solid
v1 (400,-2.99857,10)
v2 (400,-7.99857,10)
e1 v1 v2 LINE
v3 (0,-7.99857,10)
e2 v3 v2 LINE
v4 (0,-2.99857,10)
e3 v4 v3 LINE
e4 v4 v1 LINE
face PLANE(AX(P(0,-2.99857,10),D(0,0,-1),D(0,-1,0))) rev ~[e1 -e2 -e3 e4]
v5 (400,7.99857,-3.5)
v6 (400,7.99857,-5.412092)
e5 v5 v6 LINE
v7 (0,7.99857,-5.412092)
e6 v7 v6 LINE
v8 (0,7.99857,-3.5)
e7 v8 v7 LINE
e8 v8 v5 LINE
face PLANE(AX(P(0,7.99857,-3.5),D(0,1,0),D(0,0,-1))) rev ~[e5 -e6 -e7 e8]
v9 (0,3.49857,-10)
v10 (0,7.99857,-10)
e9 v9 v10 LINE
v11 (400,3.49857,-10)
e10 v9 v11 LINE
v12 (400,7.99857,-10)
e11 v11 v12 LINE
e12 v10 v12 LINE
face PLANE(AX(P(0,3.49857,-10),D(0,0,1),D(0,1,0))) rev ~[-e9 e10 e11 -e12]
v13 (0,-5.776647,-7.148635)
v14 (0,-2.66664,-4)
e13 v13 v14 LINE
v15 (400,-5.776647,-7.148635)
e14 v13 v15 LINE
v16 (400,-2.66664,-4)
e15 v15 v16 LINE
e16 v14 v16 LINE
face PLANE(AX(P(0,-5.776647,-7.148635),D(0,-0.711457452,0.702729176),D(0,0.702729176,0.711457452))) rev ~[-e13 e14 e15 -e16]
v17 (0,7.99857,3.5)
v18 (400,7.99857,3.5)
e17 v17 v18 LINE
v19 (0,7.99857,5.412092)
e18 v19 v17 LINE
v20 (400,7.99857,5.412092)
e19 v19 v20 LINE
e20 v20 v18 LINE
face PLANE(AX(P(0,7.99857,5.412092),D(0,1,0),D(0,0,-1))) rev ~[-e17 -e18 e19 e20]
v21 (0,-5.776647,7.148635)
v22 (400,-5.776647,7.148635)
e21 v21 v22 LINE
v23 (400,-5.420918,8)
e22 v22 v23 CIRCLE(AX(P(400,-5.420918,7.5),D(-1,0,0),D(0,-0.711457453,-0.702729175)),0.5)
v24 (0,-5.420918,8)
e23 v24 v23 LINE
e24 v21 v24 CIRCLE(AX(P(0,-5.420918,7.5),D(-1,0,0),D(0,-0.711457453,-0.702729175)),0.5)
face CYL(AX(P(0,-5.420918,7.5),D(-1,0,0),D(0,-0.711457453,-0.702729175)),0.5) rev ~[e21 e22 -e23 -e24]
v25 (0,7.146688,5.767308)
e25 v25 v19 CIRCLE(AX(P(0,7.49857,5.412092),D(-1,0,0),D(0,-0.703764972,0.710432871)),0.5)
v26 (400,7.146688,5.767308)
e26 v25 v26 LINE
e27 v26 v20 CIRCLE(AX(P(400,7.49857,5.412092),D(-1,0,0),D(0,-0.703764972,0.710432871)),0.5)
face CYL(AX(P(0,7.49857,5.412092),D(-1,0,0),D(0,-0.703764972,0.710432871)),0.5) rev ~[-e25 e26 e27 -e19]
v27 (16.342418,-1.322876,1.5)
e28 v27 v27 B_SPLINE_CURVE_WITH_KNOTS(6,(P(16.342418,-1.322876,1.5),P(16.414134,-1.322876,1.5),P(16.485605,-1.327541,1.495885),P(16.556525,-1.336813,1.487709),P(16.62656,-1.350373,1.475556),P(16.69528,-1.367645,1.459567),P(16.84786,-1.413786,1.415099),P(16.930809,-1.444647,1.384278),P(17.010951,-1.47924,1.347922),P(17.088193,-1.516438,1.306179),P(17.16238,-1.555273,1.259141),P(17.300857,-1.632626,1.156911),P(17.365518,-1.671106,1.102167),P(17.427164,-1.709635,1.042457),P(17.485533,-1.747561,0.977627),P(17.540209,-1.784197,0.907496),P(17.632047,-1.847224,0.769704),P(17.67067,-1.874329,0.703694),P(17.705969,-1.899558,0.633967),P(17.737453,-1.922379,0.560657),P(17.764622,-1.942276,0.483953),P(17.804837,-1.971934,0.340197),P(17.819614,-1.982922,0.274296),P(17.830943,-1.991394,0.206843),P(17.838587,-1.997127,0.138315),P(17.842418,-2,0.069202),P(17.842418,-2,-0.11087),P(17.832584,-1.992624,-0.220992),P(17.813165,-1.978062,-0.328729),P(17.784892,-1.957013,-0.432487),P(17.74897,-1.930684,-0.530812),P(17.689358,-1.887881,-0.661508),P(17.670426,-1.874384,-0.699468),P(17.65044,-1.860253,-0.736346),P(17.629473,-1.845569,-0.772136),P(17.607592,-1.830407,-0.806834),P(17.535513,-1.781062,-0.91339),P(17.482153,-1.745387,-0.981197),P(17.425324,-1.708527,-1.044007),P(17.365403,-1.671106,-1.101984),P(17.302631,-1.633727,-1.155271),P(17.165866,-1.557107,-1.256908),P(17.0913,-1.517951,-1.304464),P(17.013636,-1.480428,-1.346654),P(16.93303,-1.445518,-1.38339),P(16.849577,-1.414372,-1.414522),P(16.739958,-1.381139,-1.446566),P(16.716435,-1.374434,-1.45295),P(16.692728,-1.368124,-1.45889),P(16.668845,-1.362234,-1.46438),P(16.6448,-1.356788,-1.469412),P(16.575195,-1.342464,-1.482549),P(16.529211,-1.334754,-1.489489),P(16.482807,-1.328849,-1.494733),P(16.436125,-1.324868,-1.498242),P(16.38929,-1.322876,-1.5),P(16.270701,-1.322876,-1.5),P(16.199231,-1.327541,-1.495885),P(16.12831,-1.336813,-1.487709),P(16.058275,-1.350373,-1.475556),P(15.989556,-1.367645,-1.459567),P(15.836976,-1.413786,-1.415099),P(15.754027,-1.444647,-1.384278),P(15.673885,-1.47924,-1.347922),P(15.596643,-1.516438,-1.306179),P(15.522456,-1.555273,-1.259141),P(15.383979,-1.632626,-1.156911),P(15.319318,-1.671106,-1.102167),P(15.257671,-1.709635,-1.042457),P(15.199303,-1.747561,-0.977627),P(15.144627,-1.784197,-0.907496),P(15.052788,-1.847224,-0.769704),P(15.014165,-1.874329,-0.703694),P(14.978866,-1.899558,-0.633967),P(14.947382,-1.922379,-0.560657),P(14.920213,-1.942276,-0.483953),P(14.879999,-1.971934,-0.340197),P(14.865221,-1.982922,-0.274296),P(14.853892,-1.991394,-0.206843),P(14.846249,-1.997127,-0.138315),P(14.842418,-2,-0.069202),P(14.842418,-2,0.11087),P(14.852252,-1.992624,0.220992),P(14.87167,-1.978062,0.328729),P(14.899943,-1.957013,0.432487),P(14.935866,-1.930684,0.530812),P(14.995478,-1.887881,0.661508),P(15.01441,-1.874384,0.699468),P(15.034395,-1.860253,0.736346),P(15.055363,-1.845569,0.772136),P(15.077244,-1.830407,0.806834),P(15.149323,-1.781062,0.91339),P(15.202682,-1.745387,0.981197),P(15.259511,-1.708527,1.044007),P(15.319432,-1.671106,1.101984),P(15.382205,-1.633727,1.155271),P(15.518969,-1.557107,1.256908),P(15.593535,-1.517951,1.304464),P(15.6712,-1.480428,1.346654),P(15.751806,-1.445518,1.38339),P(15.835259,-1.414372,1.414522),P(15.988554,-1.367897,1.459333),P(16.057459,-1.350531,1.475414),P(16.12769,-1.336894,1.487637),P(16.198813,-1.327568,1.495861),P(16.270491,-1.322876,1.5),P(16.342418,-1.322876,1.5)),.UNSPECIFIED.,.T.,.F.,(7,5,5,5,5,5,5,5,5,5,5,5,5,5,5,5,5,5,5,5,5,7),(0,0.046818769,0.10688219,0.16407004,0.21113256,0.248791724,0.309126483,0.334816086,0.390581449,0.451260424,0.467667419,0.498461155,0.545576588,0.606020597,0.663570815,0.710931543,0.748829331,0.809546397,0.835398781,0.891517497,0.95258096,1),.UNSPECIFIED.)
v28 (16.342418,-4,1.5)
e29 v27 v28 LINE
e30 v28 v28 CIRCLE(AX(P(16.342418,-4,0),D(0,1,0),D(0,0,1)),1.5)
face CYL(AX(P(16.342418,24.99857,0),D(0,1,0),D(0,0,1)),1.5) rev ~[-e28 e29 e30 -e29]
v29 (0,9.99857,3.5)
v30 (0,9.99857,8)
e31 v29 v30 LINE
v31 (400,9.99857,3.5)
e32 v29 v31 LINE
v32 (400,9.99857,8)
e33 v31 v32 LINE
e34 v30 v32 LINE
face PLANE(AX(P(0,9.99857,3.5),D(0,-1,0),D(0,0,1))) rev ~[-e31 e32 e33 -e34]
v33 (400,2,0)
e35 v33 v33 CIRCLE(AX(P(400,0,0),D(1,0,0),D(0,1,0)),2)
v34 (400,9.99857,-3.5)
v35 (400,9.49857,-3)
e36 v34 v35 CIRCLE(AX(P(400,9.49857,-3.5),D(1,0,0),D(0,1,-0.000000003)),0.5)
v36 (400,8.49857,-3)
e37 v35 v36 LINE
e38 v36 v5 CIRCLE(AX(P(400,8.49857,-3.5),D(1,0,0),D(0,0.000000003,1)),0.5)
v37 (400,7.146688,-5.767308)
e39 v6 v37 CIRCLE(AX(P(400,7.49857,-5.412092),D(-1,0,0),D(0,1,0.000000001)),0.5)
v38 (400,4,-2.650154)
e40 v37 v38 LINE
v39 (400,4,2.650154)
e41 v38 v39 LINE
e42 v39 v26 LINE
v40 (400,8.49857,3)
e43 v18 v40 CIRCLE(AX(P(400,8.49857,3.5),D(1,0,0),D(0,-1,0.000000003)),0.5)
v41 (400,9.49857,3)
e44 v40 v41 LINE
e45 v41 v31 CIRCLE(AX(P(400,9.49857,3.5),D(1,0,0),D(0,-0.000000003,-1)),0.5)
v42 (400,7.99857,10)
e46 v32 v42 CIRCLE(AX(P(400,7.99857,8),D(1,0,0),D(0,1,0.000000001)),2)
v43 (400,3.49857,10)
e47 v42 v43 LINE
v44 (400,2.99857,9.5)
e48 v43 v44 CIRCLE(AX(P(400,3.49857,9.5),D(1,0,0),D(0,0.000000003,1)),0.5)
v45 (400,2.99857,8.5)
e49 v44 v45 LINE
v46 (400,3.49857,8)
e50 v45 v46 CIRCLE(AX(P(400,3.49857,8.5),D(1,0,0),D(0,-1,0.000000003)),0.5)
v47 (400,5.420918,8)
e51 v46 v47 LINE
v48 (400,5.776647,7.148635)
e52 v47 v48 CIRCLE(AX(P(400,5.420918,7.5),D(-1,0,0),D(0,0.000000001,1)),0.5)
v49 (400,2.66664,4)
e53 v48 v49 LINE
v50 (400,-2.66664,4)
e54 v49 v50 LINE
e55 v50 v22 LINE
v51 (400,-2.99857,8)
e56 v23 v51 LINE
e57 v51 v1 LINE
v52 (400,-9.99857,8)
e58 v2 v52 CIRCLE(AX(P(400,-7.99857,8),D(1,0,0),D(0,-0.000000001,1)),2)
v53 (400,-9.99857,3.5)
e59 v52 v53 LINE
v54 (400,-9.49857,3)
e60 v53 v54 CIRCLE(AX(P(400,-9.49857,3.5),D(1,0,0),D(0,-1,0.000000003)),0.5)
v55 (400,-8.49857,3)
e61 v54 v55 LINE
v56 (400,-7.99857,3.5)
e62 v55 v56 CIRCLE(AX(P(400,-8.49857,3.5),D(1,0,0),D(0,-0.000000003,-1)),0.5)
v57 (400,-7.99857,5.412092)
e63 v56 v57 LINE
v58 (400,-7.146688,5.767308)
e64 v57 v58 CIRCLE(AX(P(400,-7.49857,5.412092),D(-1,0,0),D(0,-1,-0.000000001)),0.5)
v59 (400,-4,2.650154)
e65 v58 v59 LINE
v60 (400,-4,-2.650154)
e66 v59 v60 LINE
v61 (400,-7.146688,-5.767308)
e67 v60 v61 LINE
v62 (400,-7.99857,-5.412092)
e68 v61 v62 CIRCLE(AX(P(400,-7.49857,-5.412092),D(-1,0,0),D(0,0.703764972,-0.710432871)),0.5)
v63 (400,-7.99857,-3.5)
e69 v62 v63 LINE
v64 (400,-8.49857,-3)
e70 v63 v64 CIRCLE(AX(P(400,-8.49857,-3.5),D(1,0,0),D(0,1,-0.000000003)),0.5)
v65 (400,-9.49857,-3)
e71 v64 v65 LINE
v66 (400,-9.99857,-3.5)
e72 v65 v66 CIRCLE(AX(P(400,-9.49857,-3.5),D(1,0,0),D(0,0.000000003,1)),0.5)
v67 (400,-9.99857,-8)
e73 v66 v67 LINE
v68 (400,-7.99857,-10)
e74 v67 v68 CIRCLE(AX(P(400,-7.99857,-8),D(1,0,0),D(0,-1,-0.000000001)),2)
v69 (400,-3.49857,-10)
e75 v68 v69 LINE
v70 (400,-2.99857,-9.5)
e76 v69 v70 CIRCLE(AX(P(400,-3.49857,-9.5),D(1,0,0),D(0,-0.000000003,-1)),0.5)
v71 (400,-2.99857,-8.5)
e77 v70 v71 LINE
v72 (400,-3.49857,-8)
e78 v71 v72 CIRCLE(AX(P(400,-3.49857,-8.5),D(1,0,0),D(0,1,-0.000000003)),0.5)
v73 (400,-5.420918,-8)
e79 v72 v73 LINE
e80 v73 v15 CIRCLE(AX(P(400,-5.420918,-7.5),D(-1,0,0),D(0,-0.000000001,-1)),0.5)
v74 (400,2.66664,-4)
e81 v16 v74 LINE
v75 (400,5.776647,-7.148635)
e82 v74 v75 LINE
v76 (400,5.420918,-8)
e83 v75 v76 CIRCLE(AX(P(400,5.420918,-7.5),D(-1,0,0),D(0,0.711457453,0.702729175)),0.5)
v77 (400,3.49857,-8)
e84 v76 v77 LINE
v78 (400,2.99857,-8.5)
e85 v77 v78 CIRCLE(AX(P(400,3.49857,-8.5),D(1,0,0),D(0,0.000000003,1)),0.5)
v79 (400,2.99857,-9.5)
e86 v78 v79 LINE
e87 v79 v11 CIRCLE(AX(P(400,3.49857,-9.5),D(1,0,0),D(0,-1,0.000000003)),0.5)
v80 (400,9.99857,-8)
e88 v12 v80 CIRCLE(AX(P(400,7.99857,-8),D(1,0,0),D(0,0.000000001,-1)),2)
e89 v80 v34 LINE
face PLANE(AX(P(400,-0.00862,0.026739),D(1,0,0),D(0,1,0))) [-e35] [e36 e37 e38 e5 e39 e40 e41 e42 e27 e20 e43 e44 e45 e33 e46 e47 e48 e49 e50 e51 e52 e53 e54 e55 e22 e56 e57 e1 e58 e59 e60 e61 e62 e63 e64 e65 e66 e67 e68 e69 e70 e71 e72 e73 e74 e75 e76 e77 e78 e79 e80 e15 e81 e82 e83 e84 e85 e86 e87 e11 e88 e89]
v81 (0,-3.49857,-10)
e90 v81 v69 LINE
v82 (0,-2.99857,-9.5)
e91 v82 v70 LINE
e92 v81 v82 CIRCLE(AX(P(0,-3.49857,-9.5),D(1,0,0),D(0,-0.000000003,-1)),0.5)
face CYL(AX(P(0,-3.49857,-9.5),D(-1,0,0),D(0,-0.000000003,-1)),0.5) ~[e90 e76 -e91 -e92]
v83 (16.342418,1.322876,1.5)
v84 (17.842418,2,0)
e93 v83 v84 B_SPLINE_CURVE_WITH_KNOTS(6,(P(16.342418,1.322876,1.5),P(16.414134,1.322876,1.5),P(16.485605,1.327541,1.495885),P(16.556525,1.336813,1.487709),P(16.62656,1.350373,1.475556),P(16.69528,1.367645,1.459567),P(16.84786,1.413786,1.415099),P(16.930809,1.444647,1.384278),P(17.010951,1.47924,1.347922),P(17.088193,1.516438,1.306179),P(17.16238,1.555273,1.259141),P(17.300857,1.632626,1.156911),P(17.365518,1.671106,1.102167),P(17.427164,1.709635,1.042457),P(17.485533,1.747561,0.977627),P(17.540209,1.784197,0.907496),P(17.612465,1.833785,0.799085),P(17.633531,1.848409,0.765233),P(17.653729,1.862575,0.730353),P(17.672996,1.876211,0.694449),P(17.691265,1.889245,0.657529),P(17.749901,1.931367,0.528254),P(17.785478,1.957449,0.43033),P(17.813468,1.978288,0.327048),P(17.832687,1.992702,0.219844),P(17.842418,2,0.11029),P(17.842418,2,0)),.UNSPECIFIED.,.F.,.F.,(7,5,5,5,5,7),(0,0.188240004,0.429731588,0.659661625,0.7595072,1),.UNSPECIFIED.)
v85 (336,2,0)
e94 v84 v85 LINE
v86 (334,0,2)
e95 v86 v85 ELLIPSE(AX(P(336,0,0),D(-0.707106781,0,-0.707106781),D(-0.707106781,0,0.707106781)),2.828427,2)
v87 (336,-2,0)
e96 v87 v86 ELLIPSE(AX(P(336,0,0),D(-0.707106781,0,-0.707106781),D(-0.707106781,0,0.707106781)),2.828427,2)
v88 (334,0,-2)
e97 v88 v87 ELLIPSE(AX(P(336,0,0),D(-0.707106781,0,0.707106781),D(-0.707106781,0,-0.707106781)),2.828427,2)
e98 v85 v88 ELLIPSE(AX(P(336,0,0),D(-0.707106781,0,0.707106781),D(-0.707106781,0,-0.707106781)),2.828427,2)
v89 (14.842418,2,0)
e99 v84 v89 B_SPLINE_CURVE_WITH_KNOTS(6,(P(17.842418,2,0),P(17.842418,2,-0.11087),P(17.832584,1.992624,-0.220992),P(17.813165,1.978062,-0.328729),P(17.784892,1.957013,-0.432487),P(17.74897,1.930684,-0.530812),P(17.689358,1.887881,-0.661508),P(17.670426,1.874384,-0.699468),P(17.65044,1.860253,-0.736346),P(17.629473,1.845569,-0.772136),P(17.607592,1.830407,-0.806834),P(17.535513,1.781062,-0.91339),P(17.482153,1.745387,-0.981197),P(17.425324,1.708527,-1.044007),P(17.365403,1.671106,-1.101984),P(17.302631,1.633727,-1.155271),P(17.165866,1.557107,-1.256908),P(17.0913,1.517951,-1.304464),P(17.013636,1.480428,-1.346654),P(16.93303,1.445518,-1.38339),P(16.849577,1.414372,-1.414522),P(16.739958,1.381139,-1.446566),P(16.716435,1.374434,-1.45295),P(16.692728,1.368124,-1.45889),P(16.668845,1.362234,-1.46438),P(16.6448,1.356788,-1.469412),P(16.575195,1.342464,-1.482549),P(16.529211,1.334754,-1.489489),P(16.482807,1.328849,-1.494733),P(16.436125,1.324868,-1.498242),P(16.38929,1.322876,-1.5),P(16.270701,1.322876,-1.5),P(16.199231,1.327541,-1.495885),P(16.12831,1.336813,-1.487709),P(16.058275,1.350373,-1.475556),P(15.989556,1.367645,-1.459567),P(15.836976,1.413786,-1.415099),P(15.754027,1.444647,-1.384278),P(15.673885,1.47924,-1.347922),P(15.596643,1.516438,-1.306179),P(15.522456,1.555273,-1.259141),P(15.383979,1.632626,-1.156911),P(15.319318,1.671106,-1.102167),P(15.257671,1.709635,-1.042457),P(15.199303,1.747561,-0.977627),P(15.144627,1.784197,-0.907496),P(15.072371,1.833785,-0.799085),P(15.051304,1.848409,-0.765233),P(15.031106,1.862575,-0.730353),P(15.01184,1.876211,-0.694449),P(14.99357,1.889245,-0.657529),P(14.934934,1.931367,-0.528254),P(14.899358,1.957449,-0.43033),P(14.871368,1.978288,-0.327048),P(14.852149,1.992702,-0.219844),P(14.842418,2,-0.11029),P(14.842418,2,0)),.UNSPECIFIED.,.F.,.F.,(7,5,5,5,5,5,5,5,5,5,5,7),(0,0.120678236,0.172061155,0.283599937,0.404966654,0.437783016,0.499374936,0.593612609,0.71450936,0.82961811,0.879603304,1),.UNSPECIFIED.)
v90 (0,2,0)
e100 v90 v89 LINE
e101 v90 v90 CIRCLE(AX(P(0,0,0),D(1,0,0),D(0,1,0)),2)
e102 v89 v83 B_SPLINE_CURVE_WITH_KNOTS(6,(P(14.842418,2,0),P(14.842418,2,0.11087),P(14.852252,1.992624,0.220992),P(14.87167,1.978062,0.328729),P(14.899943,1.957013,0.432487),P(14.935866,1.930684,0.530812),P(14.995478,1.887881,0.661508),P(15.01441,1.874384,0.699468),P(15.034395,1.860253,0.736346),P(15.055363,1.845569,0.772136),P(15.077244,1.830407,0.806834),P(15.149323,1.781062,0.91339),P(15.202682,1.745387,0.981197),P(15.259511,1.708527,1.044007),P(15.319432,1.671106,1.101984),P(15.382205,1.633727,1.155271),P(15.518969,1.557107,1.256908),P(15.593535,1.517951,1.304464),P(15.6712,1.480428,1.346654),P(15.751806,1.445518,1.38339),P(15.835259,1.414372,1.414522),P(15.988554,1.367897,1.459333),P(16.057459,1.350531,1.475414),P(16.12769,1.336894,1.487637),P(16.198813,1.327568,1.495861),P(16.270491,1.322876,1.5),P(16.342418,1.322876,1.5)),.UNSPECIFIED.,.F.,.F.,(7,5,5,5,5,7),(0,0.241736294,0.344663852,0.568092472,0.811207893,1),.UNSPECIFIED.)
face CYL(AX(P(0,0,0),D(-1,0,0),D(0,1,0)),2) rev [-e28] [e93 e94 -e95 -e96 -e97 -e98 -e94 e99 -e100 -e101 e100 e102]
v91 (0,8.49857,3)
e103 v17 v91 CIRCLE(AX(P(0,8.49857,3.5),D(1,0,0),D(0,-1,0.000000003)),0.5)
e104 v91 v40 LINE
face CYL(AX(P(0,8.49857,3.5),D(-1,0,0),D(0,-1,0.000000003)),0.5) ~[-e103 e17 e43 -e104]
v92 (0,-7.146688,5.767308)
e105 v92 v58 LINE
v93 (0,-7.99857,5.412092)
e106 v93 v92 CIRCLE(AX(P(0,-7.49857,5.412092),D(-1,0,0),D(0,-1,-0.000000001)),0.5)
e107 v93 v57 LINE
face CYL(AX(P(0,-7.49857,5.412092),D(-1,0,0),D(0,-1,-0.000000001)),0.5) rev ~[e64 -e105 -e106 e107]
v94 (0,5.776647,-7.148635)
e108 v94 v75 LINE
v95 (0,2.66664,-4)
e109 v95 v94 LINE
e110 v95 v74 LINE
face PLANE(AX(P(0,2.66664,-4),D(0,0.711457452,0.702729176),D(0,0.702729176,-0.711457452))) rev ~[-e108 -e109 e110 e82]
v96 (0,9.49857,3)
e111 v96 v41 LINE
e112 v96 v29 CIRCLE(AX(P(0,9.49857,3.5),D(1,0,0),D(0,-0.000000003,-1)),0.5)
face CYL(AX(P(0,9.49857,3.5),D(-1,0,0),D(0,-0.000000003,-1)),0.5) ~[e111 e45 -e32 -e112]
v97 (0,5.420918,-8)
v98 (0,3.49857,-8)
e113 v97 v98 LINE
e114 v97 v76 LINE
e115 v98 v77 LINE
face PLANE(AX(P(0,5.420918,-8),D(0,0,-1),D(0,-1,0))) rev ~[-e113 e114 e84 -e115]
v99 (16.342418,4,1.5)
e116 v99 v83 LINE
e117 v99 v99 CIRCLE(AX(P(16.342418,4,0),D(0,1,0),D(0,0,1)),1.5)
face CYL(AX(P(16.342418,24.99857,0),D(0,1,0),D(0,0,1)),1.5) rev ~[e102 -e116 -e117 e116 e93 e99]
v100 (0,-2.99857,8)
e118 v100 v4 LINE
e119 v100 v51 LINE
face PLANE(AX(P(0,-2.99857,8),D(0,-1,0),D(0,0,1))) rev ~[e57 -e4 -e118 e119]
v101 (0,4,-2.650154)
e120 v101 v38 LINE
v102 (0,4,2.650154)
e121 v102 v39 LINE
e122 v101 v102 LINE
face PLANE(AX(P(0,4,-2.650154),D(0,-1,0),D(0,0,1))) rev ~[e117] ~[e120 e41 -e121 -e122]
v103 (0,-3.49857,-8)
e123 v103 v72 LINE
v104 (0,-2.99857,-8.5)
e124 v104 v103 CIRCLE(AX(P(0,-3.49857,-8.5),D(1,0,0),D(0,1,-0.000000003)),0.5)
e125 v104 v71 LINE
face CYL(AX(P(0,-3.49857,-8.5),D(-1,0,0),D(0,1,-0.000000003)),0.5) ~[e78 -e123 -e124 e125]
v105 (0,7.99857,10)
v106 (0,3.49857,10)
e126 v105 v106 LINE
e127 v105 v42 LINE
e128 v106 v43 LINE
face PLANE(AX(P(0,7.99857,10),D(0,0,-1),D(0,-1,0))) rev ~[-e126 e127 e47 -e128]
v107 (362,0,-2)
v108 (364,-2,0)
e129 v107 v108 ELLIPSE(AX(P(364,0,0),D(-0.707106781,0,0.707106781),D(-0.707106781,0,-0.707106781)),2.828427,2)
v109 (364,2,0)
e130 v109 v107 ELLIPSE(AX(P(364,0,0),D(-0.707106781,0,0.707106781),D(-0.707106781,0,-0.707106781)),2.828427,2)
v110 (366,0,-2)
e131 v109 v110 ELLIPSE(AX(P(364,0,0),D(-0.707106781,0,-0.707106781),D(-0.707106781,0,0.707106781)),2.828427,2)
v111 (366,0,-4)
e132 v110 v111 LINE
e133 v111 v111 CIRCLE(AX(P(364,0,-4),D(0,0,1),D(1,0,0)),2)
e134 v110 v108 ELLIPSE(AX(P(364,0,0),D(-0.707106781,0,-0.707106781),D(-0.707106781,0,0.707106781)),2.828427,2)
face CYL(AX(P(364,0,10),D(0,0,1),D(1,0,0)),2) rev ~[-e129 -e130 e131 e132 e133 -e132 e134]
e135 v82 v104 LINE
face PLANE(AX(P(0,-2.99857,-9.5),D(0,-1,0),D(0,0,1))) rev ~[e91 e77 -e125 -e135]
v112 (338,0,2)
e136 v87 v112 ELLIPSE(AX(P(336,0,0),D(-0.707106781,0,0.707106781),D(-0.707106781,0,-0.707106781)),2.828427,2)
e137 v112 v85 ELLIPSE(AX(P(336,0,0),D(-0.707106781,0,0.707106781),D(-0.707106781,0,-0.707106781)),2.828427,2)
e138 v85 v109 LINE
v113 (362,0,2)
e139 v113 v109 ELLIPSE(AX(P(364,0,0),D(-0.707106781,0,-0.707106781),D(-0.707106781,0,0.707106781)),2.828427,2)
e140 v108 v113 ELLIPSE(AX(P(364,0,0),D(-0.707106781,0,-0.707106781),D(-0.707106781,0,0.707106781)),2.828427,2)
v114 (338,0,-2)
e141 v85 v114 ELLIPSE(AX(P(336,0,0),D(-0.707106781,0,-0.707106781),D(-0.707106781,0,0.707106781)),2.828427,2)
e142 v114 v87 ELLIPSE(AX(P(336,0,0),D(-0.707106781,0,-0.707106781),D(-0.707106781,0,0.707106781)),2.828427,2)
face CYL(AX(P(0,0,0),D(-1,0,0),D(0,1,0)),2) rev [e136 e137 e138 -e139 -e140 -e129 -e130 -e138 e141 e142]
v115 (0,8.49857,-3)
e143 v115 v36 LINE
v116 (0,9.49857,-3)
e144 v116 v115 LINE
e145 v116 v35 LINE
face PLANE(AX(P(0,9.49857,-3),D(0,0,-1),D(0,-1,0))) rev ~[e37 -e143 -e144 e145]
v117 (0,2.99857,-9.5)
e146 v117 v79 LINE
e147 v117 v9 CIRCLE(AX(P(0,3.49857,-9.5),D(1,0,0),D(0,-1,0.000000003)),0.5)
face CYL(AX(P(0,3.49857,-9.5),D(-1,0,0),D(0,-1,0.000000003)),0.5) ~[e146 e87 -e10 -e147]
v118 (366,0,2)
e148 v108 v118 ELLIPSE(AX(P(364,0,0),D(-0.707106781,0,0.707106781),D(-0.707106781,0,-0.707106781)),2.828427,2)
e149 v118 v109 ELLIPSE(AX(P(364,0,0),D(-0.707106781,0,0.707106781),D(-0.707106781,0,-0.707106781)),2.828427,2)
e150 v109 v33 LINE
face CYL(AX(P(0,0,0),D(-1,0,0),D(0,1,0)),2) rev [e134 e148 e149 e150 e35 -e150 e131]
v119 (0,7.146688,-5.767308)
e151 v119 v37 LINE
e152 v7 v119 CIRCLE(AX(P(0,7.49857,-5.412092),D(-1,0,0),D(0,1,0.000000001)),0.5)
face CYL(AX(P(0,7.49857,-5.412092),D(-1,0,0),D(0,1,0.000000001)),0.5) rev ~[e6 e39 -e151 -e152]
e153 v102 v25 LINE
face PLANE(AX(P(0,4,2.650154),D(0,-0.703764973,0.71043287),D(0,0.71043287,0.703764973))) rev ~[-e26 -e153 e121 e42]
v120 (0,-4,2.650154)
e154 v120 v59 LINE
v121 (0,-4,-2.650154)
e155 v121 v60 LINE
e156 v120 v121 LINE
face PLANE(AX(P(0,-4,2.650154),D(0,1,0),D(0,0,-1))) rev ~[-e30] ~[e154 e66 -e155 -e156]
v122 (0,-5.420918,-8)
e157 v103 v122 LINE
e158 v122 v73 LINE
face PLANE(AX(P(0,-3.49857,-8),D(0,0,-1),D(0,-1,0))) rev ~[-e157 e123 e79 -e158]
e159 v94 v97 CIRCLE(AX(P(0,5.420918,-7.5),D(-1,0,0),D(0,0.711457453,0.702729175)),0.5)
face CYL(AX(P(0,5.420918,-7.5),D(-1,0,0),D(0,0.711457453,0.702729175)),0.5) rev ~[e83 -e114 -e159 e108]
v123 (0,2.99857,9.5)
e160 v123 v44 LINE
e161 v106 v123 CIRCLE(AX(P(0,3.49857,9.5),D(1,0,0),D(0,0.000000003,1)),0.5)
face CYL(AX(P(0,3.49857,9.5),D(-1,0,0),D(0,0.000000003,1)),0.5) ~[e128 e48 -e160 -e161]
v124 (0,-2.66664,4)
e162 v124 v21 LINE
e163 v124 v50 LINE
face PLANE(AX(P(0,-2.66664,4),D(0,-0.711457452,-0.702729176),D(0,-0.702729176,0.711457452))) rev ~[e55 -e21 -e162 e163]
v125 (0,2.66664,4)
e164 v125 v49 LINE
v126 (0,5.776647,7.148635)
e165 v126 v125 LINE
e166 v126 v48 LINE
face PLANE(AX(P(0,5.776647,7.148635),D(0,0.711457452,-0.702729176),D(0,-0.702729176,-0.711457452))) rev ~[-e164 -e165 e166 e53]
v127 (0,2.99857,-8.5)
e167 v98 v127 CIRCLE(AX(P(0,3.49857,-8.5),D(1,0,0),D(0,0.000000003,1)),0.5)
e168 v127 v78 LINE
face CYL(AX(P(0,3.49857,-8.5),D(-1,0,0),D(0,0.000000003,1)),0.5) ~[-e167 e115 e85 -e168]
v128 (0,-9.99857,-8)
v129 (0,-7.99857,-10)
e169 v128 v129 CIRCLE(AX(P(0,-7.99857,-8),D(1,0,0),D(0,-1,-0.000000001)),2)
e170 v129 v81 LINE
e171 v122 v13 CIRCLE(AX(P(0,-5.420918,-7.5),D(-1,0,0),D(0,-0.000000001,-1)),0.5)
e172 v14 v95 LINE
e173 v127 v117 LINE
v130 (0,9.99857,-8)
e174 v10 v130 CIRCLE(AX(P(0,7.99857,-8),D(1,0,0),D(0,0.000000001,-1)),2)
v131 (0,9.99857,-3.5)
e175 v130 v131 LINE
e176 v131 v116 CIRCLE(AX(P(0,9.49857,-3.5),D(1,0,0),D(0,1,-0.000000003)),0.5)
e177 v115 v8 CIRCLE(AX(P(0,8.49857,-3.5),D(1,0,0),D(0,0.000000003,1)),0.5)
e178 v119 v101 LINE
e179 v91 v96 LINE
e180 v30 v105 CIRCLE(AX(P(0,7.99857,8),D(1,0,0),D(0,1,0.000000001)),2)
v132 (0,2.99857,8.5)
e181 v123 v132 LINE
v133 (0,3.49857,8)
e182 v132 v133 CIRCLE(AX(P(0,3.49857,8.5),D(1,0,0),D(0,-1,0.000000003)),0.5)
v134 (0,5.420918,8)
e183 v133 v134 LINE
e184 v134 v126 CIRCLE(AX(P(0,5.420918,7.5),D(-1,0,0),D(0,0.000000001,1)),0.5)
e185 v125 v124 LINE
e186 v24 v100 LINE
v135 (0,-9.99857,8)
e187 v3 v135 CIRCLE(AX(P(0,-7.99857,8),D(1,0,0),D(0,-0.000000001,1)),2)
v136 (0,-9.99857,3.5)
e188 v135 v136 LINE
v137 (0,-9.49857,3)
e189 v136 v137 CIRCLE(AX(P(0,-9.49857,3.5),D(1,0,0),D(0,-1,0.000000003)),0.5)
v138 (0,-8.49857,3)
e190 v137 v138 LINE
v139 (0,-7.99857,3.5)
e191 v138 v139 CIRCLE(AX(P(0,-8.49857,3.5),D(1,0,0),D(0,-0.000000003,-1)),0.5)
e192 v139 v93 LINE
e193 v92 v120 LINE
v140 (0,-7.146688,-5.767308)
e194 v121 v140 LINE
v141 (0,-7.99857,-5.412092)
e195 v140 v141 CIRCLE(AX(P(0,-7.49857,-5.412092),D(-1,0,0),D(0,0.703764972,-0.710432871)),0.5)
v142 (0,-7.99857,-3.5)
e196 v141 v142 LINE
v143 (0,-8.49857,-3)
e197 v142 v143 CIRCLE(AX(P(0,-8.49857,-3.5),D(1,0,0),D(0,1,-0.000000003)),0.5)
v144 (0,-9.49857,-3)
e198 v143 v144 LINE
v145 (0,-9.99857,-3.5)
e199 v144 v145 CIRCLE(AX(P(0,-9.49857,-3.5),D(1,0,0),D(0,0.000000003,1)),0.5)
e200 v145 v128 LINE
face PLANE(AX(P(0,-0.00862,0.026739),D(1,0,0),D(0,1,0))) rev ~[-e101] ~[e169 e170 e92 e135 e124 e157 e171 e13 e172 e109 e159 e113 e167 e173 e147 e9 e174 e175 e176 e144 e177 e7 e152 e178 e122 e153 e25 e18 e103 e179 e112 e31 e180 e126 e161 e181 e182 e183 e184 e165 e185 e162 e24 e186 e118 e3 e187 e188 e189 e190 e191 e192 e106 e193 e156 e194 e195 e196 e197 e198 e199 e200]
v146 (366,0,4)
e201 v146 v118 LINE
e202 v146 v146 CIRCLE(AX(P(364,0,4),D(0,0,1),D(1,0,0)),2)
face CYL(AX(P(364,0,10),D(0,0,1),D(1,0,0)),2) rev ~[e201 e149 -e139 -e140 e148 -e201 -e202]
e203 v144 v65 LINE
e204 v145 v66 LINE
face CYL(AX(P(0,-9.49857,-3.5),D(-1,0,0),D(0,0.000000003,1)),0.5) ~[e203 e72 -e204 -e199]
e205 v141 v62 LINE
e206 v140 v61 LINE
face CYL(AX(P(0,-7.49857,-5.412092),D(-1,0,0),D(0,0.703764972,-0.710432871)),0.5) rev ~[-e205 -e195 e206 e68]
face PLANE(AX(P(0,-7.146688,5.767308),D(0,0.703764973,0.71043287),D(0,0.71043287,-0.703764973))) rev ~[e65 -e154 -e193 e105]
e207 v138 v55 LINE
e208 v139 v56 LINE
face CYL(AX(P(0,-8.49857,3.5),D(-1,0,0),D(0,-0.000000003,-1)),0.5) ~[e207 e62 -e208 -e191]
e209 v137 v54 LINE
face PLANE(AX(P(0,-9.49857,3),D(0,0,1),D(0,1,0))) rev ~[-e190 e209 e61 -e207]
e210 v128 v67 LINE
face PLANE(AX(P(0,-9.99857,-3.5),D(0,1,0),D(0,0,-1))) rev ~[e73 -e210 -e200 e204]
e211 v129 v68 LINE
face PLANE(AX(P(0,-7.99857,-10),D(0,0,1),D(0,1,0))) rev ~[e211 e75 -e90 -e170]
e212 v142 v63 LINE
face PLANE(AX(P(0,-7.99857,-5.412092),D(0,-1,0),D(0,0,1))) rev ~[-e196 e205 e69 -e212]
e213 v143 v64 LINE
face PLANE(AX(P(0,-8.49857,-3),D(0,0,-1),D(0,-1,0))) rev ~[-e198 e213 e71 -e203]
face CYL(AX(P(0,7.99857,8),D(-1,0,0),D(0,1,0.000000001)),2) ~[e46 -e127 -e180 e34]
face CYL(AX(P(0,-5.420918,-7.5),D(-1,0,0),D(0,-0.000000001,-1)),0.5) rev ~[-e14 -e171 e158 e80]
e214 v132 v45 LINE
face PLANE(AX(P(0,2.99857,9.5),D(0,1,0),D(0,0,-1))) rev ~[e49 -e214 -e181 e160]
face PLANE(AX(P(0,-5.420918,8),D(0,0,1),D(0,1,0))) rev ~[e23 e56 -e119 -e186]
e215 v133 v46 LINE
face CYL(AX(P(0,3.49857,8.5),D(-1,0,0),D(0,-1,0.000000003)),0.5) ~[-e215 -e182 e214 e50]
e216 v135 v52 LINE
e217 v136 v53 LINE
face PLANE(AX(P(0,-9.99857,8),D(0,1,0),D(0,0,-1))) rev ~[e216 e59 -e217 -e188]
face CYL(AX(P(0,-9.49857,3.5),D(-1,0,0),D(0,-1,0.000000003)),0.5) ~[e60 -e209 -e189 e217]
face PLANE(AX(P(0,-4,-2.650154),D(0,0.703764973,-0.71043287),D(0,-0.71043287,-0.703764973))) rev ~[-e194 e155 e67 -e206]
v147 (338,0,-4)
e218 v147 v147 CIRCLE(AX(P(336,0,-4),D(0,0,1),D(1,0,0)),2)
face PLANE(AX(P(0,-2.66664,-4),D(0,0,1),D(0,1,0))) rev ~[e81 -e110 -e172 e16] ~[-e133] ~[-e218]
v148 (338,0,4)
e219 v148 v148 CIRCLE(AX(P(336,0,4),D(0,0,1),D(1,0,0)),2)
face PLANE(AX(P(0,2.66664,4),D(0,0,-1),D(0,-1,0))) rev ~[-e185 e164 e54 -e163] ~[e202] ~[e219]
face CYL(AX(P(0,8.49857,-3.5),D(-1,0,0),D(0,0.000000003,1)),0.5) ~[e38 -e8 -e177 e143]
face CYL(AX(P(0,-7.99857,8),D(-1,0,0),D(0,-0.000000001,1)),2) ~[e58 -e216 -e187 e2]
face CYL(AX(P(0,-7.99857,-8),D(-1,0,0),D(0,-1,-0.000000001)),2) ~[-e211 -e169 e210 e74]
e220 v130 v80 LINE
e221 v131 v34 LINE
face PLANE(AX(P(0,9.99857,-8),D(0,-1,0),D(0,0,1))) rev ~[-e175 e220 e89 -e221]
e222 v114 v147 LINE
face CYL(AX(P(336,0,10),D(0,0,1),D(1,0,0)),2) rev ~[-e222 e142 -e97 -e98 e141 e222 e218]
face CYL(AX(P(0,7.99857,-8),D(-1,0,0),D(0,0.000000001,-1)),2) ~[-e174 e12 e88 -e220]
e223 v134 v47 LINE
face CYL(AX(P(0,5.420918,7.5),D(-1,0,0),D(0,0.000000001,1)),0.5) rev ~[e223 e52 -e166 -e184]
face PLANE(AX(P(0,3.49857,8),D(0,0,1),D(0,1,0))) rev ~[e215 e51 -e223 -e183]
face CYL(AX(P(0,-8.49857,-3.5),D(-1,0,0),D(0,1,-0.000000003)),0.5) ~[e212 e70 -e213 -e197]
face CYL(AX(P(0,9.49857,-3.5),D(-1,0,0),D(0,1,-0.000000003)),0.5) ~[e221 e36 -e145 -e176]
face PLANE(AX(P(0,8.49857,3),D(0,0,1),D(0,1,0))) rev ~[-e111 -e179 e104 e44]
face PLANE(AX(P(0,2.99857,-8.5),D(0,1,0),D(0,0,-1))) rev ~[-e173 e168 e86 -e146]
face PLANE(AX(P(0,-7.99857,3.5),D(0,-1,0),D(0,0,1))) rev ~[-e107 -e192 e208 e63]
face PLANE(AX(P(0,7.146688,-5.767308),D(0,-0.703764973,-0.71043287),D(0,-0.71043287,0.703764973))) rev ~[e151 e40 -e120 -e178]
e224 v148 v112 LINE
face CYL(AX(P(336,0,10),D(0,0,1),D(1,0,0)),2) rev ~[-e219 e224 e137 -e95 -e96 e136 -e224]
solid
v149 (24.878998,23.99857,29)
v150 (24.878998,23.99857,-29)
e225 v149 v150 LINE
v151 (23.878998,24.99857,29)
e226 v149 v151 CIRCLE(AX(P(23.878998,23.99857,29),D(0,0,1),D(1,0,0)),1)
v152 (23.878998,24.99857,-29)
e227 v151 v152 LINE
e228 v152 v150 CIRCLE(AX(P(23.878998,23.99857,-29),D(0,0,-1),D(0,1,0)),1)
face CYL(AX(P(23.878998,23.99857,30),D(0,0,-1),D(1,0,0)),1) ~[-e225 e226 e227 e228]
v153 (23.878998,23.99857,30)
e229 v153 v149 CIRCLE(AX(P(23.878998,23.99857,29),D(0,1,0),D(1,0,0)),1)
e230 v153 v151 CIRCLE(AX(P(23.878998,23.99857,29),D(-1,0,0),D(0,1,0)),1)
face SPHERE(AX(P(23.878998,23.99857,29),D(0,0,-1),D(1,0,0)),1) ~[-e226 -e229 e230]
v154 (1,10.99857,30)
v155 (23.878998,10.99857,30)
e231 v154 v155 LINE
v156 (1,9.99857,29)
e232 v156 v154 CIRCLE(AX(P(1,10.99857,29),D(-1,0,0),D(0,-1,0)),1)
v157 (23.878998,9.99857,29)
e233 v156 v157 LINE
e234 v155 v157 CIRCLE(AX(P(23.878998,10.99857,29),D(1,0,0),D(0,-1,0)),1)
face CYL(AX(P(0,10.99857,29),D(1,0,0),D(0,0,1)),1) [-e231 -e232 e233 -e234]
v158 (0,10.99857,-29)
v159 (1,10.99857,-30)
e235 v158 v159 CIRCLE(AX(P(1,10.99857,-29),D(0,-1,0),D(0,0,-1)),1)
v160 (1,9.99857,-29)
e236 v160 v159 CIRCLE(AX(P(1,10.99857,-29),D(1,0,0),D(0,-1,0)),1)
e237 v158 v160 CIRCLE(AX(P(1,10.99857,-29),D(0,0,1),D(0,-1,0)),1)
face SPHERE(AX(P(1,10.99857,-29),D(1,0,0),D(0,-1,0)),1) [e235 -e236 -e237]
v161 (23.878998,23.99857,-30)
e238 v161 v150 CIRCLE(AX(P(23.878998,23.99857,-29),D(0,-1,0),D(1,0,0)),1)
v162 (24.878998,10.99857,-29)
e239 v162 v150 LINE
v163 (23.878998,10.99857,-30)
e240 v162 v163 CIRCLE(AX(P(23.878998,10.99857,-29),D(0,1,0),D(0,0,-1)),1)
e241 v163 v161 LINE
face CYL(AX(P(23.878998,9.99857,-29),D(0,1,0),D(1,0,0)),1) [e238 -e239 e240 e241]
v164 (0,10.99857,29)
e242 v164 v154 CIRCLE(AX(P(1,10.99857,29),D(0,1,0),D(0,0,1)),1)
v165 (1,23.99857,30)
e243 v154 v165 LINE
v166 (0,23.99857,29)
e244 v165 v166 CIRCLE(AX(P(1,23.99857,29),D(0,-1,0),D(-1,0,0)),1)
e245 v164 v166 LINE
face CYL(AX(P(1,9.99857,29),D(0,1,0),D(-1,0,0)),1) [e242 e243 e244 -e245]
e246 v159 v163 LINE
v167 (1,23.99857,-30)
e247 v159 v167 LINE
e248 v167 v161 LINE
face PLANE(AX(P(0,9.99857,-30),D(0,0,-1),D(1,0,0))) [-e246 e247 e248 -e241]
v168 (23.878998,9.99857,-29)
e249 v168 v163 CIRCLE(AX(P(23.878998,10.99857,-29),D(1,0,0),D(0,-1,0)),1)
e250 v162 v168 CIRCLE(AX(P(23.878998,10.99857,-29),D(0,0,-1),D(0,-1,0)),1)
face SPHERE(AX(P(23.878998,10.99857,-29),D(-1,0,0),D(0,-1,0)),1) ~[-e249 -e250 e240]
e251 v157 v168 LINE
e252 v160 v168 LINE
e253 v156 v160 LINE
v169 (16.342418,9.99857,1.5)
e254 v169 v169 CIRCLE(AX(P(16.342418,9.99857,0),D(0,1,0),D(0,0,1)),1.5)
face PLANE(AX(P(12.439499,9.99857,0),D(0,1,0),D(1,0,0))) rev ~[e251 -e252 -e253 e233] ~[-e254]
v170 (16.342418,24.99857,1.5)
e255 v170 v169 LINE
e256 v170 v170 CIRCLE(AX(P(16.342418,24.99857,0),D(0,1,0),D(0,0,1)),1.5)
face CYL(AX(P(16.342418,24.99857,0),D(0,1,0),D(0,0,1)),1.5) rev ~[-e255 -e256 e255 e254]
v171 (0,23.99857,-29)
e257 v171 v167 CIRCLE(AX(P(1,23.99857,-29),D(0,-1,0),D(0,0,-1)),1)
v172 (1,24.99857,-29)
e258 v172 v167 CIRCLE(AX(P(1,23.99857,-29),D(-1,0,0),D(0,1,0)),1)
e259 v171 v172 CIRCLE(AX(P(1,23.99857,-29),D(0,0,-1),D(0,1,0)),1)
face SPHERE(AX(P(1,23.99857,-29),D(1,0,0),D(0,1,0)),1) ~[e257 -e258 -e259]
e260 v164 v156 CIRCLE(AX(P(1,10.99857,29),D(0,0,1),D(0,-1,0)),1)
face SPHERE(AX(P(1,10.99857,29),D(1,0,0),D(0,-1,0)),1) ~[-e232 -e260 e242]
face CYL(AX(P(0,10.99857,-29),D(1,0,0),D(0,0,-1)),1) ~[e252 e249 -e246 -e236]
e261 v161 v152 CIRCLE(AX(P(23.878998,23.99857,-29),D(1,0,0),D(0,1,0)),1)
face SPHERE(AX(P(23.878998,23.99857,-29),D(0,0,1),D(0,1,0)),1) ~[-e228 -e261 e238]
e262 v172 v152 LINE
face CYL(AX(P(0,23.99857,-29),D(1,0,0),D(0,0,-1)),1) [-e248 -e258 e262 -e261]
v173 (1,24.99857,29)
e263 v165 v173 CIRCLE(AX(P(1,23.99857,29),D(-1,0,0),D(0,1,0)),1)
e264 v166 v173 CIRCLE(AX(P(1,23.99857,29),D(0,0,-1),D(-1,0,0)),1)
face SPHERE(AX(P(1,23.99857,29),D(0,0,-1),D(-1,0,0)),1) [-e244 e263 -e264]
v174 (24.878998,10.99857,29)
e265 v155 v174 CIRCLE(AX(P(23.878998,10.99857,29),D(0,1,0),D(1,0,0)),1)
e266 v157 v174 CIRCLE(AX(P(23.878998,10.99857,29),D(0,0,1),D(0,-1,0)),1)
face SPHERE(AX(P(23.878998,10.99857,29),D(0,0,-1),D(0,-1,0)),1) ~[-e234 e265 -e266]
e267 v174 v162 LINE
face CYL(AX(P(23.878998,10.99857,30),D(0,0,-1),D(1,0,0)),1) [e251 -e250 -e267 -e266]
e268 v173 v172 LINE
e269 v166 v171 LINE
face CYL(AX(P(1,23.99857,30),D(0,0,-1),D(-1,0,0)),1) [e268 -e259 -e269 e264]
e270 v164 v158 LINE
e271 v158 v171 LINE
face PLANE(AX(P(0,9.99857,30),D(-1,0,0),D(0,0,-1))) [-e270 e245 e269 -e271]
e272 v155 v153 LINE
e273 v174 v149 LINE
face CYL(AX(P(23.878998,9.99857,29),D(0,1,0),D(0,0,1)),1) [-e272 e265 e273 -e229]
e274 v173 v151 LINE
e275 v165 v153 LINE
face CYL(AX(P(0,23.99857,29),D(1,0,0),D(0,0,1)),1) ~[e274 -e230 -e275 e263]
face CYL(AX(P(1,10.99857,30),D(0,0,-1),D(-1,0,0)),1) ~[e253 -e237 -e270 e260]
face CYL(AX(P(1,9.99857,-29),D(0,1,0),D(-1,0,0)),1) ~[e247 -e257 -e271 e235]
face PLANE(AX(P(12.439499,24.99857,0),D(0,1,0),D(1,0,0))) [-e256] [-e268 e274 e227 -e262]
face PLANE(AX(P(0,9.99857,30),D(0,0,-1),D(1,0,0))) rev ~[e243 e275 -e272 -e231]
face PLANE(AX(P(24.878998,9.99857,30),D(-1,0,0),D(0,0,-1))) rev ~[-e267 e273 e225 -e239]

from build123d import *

# Parameters (mm, degrees)
SKETCH2_R                       = 2
ALUMINIUM_PROFILE_20_20_1_DEPTH = 400
SKETCH3_R                       = 2
CUT_EXTRUDE1_DEPTH              = 40
SKETCH4_W                       = 24.878997643
SKETCH4_H                       = 60
BOSS_EXTRUDE1_DEPTH             = 15
FILLET1_R                       = 1
SKETCH6_R                       = 1.5
CUT_EXTRUDE2_DEPTH              = 40


with BuildPart() as part:
    # Sketch2 → Aluminium profile 20×20(1) (new body)
    with BuildSketch(Plane.YZ):
        with BuildLine():
            Line((-2.666639653, -4), (2.666639653, -4))
            Line((2.666639653, -4), (5.776647091, -7.148635412))
            ThreePointArc((5.776647091, -7.148635412), (5.882265465, -7.692766317), (5.420918365, -8))
            Line((5.420918365, -8), (3.498570355, -8))
            ThreePointArc((3.498570355, -8), (3.145016964, -8.146446609), (2.998570355, -8.5))
            Line((2.998570355, -8.5), (2.998570355, -9.5))
            ThreePointArc((2.998570355, -9.5), (3.145016964, -9.853553391), (3.498570355, -10))
            Line((3.498570355, -10), (7.998570355, -10))
            ThreePointArc((7.998570355, -10), (9.412783917, -9.414213562), (9.998570355, -8))
            Line((9.998570355, -8), (9.998570355, -3.5))
            ThreePointArc((9.998570355, -3.5), (9.852123746, -3.146446609), (9.498570355, -3))
            Line((9.498570355, -3), (8.498570355, -3))
            ThreePointArc((8.498570355, -3), (8.145016964, -3.146446609), (7.998570355, -3.5))
            Line((7.998570355, -3.5), (7.998570355, -5.412091861))
            ThreePointArc((7.998570355, -5.412091861), (7.691000546, -5.873579263), (7.146687869, -5.767308297))
            Line((7.146687869, -5.767308297), (4, -2.650154242))
            Line((4, -2.650154242), (4, 2.650154242))
            Line((4, 2.650154242), (7.146687869, 5.767308297))
            ThreePointArc((7.146687869, 5.767308297), (7.691000546, 5.873579263), (7.998570355, 5.412091861))
            Line((7.998570355, 5.412091861), (7.998570355, 3.5))
            ThreePointArc((7.998570355, 3.5), (8.145016964, 3.146446609), (8.498570355, 3))
            Line((8.498570355, 3), (9.498570355, 3))
            ThreePointArc((9.498570355, 3), (9.852123746, 3.146446609), (9.998570355, 3.5))
            Line((9.998570355, 3.5), (9.998570355, 8))
            ThreePointArc((9.998570355, 8), (9.412783917, 9.414213562), (7.998570355, 10))
            Line((7.998570355, 10), (3.498570355, 10))
            ThreePointArc((3.498570355, 10), (3.145016964, 9.853553391), (2.998570355, 9.5))
            Line((2.998570355, 9.5), (2.998570355, 8.5))
            ThreePointArc((2.998570355, 8.5), (3.145016964, 8.146446609), (3.498570355, 8))
            Line((3.498570355, 8), (5.420918365, 8))
            ThreePointArc((5.420918365, 8), (5.882265465, 7.692766317), (5.776647091, 7.148635412))
            Line((5.776647091, 7.148635412), (2.666639653, 4))
            Line((2.666639653, 4), (-2.666639653, 4))
            Line((-2.666639653, 4), (-5.776647091, 7.148635412))
            ThreePointArc((-5.776647091, 7.148635412), (-5.882265465, 7.692766317), (-5.420918365, 8))
            Line((-5.420918365, 8), (-2.998570355, 8))
            Line((-2.998570355, 8), (-2.998570355, 10))
            Line((-2.998570355, 10), (-7.998570355, 10))
            ThreePointArc((-7.998570355, 10), (-9.412783917, 9.414213562), (-9.998570355, 8))
            Line((-9.998570355, 8), (-9.998570355, 3.5))
            ThreePointArc((-9.998570355, 3.5), (-9.852123746, 3.146446609), (-9.498570355, 3))
            Line((-9.498570355, 3), (-8.498570355, 3))
            ThreePointArc((-8.498570355, 3), (-8.145016964, 3.146446609), (-7.998570355, 3.5))
            Line((-7.998570355, 3.5), (-7.998570355, 5.412091861))
            ThreePointArc((-7.998570355, 5.412091861), (-7.691000546, 5.873579263), (-7.146687869, 5.767308297))
            Line((-7.146687869, 5.767308297), (-4, 2.650154242))
            Line((-4, 2.650154242), (-4, -2.650154242))
            Line((-4, -2.650154242), (-7.146687869, -5.767308297))
            ThreePointArc((-7.146687869, -5.767308297), (-7.691000546, -5.873579263), (-7.998570355, -5.412091861))
            Line((-7.998570355, -5.412091861), (-7.998570355, -3.5))
            ThreePointArc((-7.998570355, -3.5), (-8.145016964, -3.146446609), (-8.498570355, -3))
            Line((-8.498570355, -3), (-9.498570355, -3))
            ThreePointArc((-9.498570355, -3), (-9.852123746, -3.146446609), (-9.998570355, -3.5))
            Line((-9.998570355, -3.5), (-9.998570355, -8))
            ThreePointArc((-9.998570355, -8), (-9.412783917, -9.414213562), (-7.998570355, -10))
            Line((-7.998570355, -10), (-3.498570355, -10))
            ThreePointArc((-3.498570355, -10), (-3.145016964, -9.853553391), (-2.998570355, -9.5))
            Line((-2.998570355, -9.5), (-2.998570355, -8.5))
            ThreePointArc((-2.998570355, -8.5), (-3.145016964, -8.146446609), (-3.498570355, -8))
            Line((-3.498570355, -8), (-5.420918365, -8))
            ThreePointArc((-5.420918365, -8), (-5.882265465, -7.692766317), (-5.776647091, -7.148635412))
            Line((-5.776647091, -7.148635412), (-2.666639653, -4))
        make_face()
        Circle(SKETCH2_R, mode=Mode.SUBTRACT)
    extrude(amount=ALUMINIUM_PROFILE_20_20_1_DEPTH)

    # Sketch3 → Cut-Extrude1 (cut)
    with BuildSketch(Plane.XY.offset(10)):
        with Locations((364, 0)):
            Circle(SKETCH3_R)
        with Locations((336, 0)):
            Circle(SKETCH3_R)
    extrude(amount=-CUT_EXTRUDE1_DEPTH, mode=Mode.SUBTRACT)


with BuildPart() as body_2:
    # Sketch4 → Boss-Extrude1 (new body)
    with BuildSketch(Plane(origin=(0, 9.998570355, 0), x_dir=(1, 0, 0), z_dir=(0, 1, 0))):
        with Locations((12.439498822, 0)):
            Rectangle(SKETCH4_W, SKETCH4_H)
    extrude(amount=BOSS_EXTRUDE1_DEPTH)

    # Fillet1
    fillet1_edges = [body_2.edges().sort_by_distance(p)[0] for p in [
        (24.878997643, 24.998570355, 0),
        (12.439498821, 24.998570355, -30),
        (0, 24.998570355, 0),
        (12.439498821, 9.998570355, -30),
        (24.878997643, 9.998570355, 0),
        (12.439498821, 9.998570355, 30),
        (0, 9.998570355, 0),
        (0, 17.498570355, -30),
        (24.878997643, 17.498570355, -30),
        (24.878997643, 17.498570355, 30),
        (0, 17.498570355, 30),
        (12.439498821, 24.998570355, 30),
    ]]
    fillet(fillet1_edges, radius=FILLET1_R)


with BuildPart() as cut_extrude2_tool:
    # Sketch6 → Cut-Extrude2 (new body)
    with BuildSketch(Plane(origin=(0, 24.998570355, 0), x_dir=(1, 0, 0), z_dir=(0, 1, 0))):
        with Locations(Location((16.342417806, 0, 0), (0, 0, 270))):
            Circle(SKETCH6_R)
    extrude(amount=-CUT_EXTRUDE2_DEPTH)


with BuildPart() as part_1:
    add(part.part)

    # Cut-Extrude2: cut by cut_extrude2_tool
    add(cut_extrude2_tool.part, mode=Mode.SUBTRACT)


with BuildPart() as body_2_1:
    add(body_2.part)

    # Cut-Extrude2: cut by cut_extrude2_tool
    add(cut_extrude2_tool.part, mode=Mode.SUBTRACT)


solid = Compound([part_1.part, body_2_1.part])
